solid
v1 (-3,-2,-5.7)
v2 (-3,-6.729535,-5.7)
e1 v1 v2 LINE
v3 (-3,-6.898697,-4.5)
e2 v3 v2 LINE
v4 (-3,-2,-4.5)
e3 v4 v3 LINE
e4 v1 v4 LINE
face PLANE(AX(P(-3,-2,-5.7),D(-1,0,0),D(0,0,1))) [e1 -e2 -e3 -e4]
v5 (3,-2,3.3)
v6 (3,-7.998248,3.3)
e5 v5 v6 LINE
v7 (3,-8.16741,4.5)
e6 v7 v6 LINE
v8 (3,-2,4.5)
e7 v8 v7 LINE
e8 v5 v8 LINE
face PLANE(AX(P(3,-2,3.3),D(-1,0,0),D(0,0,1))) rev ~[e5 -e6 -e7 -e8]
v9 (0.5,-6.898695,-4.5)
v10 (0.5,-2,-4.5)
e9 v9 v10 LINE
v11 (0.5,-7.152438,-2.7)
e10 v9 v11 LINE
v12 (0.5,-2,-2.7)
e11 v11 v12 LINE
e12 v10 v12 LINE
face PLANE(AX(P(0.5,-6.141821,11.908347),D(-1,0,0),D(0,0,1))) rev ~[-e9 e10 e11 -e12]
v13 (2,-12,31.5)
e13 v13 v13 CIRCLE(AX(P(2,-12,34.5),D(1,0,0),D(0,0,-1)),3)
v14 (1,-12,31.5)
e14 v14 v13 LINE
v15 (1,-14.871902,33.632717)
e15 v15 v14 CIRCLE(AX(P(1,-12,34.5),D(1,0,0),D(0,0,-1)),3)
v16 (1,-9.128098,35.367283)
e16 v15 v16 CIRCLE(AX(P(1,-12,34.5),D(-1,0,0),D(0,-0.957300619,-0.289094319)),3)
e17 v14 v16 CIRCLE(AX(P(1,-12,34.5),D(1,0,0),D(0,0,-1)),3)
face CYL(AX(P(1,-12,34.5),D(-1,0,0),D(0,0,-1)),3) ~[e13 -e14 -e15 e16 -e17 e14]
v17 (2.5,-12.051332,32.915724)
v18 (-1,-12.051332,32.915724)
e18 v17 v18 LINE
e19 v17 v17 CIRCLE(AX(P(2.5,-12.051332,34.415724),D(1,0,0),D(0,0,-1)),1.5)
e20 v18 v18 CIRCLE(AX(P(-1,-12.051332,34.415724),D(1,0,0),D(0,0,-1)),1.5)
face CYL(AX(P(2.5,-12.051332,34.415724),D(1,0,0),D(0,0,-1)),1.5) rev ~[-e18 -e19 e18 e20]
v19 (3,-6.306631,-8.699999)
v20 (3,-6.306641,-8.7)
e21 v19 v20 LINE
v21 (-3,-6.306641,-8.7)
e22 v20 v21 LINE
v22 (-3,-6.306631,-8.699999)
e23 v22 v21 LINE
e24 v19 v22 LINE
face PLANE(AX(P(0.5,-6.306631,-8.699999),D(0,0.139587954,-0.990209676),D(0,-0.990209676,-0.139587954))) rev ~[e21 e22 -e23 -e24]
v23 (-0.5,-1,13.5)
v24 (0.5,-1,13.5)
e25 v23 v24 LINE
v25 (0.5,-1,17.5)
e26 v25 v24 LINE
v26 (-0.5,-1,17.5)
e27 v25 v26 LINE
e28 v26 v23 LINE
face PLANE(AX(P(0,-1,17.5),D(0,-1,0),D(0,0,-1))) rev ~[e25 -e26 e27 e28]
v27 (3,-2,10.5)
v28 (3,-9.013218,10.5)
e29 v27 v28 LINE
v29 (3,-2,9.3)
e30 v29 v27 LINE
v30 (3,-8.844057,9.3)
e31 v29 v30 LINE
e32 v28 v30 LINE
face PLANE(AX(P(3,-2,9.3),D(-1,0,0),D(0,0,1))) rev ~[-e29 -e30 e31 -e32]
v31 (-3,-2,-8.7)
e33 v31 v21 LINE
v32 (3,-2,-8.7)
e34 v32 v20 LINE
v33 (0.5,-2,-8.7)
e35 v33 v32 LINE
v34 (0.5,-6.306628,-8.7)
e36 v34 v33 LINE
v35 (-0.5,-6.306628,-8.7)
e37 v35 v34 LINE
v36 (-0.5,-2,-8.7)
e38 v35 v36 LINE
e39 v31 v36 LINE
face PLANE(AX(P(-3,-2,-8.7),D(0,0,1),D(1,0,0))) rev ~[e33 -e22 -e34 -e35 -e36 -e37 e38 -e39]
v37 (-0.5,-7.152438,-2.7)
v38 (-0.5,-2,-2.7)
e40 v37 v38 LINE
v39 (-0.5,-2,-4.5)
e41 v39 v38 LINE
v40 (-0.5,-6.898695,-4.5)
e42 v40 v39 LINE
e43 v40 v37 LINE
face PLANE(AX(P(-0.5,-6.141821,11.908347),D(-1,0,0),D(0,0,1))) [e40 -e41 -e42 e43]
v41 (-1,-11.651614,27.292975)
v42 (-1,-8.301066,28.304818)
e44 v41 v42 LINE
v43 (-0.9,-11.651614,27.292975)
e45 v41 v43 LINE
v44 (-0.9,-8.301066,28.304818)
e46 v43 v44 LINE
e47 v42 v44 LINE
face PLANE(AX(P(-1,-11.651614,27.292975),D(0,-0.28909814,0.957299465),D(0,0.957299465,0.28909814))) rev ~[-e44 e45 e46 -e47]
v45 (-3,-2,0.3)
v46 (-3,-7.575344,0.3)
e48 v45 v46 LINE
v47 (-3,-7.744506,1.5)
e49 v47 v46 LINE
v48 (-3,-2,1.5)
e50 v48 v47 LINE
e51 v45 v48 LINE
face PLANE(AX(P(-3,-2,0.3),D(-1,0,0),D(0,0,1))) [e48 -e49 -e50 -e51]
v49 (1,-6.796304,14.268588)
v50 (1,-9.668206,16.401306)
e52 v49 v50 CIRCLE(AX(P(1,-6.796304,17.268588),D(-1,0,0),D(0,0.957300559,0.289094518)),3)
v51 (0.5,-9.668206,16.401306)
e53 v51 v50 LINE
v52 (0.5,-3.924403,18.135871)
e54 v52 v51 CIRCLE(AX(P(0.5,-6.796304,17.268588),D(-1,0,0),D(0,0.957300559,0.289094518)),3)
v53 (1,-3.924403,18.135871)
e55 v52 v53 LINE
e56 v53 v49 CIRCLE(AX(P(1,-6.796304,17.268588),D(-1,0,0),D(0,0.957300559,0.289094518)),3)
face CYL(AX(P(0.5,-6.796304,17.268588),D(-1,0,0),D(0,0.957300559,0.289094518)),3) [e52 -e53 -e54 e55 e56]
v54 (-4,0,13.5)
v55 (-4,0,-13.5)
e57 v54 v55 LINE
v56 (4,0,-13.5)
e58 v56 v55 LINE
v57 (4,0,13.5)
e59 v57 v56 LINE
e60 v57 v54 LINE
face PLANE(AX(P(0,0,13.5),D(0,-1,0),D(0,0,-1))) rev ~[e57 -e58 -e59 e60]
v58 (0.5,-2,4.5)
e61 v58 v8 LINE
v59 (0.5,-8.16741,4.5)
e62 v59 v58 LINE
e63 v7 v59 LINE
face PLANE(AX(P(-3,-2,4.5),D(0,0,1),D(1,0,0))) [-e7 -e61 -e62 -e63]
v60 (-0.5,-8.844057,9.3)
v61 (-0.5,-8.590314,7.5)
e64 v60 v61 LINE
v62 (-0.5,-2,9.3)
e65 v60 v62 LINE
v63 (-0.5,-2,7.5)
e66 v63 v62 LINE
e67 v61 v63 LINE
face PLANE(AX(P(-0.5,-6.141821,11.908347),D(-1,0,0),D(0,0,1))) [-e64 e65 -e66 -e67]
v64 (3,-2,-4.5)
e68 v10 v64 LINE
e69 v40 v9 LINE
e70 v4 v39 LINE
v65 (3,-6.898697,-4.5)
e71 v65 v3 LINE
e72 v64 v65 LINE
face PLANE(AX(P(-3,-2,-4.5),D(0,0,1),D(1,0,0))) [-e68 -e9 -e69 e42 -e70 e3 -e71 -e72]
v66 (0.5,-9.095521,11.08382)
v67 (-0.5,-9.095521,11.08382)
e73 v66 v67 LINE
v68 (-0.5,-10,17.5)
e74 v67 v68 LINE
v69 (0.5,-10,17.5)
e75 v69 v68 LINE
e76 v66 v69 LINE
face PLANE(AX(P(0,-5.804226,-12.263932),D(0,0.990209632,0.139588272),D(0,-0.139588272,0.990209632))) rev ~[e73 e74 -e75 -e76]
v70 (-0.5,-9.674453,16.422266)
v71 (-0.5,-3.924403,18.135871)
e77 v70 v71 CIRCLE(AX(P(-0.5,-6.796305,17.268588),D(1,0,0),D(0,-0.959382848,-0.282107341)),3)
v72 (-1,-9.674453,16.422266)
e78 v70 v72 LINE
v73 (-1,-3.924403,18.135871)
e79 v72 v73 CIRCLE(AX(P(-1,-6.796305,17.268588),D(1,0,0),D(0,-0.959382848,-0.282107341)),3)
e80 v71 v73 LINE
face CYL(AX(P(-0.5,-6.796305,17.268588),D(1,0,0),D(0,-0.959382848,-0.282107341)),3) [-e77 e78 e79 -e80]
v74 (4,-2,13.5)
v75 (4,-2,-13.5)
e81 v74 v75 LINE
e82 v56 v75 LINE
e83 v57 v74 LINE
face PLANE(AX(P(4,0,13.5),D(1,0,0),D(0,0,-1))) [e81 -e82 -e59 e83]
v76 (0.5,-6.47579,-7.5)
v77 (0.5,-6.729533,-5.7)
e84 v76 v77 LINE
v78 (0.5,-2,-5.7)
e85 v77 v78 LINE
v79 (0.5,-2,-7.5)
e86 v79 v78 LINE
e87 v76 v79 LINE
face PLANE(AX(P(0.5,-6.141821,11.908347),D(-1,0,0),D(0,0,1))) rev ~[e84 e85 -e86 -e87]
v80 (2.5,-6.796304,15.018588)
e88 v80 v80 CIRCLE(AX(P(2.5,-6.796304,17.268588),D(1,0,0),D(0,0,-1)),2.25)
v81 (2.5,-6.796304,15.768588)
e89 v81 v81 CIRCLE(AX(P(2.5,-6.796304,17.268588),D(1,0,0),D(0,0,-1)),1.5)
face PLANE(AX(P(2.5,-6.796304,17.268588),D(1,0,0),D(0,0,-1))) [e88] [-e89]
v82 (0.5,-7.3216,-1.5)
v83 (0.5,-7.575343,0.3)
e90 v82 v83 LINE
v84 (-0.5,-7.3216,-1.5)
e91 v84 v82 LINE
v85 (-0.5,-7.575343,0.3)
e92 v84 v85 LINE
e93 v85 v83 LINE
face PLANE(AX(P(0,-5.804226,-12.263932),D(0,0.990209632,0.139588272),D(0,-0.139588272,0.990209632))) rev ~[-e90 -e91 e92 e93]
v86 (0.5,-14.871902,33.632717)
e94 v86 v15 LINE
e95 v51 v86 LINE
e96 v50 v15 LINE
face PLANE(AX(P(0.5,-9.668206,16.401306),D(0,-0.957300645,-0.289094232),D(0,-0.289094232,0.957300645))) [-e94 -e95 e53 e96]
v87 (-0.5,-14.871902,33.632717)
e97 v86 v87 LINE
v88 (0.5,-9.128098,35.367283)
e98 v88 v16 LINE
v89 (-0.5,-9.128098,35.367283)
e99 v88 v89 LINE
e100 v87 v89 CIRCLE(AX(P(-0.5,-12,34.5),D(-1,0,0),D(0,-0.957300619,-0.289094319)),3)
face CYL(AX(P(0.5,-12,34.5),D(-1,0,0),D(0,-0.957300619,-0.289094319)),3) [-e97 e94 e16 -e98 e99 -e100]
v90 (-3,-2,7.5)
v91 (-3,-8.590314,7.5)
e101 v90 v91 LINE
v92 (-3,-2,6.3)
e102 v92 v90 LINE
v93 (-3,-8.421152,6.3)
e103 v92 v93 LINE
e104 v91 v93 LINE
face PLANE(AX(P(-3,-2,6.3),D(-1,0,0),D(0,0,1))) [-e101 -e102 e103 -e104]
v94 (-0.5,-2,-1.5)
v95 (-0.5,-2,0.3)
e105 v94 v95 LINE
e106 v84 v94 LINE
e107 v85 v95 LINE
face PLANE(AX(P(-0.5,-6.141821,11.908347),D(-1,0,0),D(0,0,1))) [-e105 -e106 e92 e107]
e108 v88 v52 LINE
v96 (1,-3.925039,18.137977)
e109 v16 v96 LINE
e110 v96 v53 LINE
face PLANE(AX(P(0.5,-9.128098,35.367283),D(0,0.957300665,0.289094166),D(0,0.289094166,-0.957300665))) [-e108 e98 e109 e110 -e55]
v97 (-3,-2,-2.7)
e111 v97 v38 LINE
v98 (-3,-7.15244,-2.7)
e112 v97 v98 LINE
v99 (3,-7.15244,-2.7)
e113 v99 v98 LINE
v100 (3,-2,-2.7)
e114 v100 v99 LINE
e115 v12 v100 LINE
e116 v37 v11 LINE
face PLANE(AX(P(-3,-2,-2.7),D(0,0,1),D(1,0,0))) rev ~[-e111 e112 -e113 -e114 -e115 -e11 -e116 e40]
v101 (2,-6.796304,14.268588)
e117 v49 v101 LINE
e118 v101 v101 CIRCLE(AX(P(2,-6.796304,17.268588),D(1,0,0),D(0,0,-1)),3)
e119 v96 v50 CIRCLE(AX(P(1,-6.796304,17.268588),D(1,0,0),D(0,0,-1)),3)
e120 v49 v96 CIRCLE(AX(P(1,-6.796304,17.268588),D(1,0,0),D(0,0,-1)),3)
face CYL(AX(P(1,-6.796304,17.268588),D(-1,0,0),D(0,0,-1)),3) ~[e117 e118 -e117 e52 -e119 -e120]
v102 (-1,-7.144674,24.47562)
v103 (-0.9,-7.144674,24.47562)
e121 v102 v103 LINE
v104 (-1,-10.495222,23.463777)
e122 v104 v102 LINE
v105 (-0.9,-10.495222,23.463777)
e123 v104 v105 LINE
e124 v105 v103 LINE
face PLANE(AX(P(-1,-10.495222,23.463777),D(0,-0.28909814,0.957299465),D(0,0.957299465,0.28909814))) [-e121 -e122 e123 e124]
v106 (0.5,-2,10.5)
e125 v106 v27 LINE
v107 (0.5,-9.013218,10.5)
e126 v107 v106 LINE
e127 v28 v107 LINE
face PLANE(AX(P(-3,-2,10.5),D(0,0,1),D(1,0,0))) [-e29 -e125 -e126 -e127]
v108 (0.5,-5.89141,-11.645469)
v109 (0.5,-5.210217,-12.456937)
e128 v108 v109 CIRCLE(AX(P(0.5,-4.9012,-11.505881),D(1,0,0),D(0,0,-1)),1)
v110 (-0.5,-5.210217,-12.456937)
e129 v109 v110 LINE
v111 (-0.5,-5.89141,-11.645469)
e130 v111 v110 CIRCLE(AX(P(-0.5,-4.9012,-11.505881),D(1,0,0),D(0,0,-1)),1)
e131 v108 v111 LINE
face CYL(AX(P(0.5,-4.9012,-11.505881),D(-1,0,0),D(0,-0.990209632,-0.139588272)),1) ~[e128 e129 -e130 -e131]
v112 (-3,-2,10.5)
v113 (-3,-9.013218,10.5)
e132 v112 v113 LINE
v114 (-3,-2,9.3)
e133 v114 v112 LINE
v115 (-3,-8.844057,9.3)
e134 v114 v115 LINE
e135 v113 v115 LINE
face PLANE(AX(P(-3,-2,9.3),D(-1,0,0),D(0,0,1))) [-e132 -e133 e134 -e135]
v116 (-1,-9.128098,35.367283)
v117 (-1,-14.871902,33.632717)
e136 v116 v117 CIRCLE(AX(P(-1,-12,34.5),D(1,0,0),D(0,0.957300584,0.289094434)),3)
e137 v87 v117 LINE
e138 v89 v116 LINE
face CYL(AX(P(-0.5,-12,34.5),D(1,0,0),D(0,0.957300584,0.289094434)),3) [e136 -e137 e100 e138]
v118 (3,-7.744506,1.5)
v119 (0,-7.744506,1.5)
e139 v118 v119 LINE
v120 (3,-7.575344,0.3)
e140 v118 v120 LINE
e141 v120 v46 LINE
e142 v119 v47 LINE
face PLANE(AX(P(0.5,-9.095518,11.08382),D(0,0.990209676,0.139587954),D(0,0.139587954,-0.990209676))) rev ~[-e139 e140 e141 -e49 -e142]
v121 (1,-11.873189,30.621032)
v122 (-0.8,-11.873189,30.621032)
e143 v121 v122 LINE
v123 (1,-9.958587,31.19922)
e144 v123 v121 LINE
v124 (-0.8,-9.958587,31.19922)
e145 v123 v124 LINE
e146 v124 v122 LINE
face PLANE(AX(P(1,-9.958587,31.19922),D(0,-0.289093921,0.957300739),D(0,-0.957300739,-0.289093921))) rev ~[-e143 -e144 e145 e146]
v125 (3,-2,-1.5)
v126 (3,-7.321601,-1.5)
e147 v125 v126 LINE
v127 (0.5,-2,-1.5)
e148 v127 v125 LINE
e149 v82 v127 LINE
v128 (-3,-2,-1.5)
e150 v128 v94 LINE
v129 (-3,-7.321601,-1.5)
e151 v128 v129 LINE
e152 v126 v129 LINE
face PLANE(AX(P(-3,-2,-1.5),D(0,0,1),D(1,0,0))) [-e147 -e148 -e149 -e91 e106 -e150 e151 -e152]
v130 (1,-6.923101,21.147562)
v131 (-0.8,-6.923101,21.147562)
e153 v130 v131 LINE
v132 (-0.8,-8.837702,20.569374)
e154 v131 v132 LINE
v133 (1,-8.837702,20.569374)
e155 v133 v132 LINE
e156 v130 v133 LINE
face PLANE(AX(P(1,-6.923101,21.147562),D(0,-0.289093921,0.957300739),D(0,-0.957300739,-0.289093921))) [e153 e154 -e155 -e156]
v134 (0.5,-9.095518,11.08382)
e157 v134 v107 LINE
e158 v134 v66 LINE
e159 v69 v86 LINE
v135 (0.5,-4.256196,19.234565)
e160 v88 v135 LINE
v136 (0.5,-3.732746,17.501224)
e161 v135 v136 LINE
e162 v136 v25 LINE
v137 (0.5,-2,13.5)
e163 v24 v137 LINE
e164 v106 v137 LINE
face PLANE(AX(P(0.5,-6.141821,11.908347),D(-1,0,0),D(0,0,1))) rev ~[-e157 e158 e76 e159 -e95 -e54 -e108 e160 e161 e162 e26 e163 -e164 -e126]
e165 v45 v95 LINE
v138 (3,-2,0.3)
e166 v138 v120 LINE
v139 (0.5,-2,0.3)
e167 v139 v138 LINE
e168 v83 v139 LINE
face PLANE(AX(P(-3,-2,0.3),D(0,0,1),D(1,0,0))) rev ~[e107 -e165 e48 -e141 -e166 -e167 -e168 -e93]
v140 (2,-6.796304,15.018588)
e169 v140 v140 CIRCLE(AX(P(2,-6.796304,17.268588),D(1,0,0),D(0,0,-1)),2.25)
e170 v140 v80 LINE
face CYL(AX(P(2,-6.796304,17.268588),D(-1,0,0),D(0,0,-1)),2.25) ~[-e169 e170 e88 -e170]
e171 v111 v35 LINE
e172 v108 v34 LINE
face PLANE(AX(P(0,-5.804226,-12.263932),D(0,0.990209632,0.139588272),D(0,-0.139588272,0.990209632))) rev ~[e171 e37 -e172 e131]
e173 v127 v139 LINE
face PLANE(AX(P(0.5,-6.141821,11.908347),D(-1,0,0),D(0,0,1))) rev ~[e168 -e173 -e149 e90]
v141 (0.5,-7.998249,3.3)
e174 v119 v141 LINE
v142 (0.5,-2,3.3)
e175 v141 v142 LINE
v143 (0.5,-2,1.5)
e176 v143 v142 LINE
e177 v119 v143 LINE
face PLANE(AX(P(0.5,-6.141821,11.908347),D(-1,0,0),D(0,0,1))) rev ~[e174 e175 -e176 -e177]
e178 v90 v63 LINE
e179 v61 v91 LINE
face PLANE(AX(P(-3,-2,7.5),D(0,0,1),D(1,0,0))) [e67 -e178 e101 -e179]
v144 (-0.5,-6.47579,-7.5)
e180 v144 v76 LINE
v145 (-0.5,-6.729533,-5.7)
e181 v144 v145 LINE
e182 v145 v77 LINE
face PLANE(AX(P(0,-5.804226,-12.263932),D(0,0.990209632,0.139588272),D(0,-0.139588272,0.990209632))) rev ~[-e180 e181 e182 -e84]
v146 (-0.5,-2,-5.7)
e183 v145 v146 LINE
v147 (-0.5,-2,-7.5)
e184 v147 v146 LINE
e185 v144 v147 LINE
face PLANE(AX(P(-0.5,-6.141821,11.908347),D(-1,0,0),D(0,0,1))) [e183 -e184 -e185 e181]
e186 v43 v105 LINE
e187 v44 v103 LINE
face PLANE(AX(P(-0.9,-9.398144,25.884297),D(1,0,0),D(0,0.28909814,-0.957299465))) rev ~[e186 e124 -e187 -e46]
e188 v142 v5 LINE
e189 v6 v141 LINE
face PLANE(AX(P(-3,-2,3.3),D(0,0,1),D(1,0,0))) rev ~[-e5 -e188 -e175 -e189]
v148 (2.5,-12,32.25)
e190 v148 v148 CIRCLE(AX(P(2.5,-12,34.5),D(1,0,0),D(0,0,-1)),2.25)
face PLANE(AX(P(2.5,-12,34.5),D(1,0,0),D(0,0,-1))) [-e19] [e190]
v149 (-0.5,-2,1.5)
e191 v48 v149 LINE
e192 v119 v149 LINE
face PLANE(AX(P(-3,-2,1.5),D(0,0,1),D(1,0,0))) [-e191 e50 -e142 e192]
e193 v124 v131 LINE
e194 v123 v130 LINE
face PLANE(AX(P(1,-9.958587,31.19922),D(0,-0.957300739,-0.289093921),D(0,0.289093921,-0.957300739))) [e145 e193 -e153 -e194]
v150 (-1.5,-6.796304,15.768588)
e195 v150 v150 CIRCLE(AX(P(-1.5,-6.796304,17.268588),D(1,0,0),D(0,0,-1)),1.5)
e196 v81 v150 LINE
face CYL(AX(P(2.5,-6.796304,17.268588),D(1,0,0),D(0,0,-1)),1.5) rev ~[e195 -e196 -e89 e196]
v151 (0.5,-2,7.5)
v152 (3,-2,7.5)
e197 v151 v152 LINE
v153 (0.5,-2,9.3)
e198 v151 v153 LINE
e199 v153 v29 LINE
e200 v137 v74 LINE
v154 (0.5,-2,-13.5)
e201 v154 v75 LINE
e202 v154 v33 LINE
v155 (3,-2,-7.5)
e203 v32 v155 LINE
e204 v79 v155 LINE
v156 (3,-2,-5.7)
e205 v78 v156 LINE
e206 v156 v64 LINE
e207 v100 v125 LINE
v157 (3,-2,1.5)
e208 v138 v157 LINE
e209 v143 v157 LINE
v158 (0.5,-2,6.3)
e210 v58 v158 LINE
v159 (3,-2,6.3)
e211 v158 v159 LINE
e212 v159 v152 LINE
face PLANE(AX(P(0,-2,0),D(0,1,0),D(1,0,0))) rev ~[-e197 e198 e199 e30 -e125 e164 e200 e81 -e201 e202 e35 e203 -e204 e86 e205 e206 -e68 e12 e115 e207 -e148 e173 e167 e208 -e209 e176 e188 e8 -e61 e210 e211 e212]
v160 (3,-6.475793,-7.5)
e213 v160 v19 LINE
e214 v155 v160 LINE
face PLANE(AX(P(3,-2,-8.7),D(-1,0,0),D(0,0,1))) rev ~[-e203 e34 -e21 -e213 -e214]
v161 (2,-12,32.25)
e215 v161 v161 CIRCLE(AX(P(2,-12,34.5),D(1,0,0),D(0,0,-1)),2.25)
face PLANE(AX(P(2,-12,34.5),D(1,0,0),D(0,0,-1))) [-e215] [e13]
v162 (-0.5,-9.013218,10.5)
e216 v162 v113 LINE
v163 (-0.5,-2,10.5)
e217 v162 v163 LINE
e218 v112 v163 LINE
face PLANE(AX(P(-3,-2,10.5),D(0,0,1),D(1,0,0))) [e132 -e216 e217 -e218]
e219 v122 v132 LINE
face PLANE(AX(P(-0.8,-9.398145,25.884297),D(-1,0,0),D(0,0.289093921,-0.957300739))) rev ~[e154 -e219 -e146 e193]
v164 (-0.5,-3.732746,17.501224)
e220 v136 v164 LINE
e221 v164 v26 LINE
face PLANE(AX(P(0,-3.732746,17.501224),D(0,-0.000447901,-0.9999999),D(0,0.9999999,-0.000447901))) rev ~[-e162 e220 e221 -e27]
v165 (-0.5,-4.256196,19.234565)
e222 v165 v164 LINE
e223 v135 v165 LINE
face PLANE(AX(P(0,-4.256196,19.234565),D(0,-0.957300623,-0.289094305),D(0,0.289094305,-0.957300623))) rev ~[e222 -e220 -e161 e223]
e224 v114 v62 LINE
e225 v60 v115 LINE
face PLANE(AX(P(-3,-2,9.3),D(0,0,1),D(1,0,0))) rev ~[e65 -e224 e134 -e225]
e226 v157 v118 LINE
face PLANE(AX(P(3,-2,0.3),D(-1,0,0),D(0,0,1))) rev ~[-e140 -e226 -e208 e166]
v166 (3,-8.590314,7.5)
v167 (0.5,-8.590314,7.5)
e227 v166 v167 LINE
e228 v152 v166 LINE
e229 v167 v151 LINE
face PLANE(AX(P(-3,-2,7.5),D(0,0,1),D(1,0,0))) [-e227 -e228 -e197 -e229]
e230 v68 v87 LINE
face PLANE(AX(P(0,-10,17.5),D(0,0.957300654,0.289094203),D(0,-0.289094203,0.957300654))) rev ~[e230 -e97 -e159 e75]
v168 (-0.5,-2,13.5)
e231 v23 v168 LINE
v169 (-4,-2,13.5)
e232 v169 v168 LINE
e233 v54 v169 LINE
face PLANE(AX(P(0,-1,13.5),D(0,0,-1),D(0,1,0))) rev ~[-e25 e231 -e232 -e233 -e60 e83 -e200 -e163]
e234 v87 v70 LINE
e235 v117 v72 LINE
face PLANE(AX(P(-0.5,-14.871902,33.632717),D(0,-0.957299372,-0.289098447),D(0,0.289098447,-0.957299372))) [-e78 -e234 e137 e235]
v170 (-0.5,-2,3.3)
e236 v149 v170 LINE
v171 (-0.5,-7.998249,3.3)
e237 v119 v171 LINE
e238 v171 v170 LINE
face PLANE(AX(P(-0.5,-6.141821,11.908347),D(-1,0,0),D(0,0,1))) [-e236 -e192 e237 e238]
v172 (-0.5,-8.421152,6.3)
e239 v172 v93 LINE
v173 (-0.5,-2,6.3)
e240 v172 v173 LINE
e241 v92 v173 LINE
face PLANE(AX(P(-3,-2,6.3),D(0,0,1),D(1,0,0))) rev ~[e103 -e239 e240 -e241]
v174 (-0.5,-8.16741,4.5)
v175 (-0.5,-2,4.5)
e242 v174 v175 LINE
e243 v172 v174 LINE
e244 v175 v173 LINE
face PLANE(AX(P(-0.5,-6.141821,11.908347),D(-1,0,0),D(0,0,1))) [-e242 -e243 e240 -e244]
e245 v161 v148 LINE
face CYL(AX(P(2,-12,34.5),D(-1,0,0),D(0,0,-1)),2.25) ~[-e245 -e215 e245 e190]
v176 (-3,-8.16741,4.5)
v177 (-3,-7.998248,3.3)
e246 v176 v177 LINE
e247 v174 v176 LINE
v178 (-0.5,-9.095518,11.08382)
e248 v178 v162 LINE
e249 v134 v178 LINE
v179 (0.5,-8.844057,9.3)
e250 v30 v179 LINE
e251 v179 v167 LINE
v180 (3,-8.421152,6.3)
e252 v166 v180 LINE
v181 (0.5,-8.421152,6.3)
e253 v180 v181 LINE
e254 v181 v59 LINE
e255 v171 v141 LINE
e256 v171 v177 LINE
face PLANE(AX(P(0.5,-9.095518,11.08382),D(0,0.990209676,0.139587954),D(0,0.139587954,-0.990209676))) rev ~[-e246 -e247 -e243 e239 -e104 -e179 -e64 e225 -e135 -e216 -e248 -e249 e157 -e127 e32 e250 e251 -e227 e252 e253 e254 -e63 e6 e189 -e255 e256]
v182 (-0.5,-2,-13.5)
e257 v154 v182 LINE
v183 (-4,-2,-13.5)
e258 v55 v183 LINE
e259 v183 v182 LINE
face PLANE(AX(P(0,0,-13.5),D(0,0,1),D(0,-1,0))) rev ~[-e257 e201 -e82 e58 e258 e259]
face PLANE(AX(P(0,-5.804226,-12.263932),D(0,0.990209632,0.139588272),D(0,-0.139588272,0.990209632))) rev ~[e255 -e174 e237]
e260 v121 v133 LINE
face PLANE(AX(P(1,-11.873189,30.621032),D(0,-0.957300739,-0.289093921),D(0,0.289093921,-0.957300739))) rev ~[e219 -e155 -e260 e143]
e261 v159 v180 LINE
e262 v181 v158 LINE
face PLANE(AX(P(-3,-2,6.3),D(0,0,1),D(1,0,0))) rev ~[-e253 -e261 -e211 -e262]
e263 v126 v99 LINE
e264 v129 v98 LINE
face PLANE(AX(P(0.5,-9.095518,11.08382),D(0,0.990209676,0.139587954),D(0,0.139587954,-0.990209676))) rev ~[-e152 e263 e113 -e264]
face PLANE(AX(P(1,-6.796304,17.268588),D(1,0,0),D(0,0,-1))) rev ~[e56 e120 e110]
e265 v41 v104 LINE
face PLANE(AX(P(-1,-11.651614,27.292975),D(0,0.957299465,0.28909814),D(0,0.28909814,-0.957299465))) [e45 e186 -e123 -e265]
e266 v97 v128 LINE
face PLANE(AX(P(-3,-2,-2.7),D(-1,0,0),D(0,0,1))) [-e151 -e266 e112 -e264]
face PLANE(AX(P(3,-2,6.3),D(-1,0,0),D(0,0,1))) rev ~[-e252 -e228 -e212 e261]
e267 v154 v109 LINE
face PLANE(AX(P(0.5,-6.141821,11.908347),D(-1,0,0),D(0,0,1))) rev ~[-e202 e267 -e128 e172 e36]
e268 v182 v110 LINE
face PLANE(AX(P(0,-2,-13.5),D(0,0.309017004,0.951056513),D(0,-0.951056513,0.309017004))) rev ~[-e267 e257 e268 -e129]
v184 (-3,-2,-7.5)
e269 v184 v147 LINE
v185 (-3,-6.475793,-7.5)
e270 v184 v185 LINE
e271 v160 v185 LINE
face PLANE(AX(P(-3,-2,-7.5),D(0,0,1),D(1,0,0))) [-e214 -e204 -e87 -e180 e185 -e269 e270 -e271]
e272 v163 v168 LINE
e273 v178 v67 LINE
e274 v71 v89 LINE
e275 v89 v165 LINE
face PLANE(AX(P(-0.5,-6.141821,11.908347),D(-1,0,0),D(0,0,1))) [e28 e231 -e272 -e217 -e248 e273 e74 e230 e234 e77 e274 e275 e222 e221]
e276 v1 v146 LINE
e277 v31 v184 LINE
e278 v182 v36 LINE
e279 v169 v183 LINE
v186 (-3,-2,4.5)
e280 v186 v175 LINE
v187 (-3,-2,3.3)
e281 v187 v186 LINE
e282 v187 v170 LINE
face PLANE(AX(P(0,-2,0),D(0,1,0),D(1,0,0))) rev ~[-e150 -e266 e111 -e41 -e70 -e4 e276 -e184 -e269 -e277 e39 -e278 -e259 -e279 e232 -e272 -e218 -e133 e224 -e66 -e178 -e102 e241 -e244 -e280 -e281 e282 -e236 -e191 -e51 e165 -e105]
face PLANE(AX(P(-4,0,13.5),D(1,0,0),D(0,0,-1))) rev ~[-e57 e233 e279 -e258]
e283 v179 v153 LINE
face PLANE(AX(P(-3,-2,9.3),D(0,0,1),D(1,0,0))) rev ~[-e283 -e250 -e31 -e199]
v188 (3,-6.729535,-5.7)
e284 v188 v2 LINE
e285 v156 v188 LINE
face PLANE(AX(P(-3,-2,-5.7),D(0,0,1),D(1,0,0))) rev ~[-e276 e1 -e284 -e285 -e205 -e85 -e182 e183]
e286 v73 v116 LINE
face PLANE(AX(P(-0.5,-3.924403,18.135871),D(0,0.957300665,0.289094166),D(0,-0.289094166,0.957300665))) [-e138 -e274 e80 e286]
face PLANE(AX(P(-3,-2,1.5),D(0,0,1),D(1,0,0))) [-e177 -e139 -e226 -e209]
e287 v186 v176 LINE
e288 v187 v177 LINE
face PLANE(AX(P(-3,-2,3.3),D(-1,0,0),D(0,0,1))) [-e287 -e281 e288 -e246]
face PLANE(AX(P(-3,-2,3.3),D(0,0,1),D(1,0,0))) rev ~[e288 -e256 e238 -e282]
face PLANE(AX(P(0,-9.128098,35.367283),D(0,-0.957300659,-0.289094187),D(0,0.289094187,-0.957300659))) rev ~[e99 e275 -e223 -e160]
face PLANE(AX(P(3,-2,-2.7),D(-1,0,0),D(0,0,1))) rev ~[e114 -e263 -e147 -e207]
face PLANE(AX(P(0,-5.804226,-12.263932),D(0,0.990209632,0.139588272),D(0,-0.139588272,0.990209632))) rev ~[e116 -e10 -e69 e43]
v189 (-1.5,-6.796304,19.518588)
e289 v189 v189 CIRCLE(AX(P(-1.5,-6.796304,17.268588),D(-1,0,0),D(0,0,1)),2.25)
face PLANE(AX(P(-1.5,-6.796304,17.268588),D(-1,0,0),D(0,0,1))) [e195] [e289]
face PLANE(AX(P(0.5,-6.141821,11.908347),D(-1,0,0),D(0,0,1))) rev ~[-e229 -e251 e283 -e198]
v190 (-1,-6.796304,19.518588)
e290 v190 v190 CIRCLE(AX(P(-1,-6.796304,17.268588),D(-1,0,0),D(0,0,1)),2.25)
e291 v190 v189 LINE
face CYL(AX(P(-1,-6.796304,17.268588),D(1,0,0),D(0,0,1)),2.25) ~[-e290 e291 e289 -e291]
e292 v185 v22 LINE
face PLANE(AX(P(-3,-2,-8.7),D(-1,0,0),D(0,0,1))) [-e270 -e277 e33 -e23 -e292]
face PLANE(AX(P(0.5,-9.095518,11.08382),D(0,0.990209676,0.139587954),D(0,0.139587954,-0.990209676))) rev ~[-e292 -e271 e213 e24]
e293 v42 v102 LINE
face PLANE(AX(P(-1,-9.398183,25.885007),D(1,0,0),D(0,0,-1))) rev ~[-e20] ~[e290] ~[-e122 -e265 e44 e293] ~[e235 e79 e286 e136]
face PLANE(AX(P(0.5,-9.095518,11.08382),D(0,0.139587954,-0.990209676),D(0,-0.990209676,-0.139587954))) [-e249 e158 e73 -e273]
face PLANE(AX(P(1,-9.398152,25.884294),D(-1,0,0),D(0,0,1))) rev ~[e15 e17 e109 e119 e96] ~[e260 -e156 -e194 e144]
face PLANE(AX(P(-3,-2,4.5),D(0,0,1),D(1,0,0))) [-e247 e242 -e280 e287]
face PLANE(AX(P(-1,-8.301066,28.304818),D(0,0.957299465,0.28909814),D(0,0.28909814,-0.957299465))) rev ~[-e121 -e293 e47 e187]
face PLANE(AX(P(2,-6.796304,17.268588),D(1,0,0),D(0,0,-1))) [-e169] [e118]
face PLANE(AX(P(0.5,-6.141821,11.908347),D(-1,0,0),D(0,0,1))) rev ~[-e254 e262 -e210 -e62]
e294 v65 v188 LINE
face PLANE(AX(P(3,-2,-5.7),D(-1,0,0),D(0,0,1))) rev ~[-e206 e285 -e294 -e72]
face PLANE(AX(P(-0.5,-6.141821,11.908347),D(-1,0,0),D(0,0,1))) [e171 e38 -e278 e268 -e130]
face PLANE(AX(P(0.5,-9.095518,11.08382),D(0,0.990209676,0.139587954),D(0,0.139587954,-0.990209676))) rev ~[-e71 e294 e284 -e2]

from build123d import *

# Parameters (mm, degrees)
SKETCH1_W           = 8
SKETCH1_H           = 27
BOSS_EXTRUDE1_DEPTH = 2
BOSS_EXTRUDE2_DEPTH = 0.5
BOSS_EXTRUDE3_DEPTH = 0.5
BOSS_EXTRUDE4_DEPTH = 0.5
SKETCH7_R           = 2.25
BOSS_EXTRUDE5_DEPTH = 0.5
SKETCH8_R           = 3
BOSS_EXTRUDE6_DEPTH = 1
SKETCH9_R           = 2.25
BOSS_EXTRUDE7_DEPTH = 0.5
SKETCH10_R          = 1.5
CUT_EXTRUDE1_DEPTH  = 7.5
SKETCH14_W          = 10.5
SKETCH14_H          = 2
CUT_EXTRUDE2_DEPTH  = 1.8
FILLET1_R           = 1
SKETCH15_W          = 4
SKETCH15_H          = 3.5
CUT_EXTRUDE5_DEPTH  = 0.1
SKETCH19_W          = 6
SKETCH19_H          = 1.2
BOSS_EXTRUDE8_DEPTH = 7.1
LPATTERN1_COUNT     = 7
LPATTERN1_PITCH     = 3
SKETCH20_W          = 19.979424
SKETCH20_H          = 3.421259
CUT_EXTRUDE6_DEPTH  = 3.55


with BuildPart() as part:
    # Sketch1 → Boss-Extrude1 (new body)
    with BuildSketch(Plane(origin=(0, 0, 0), x_dir=(1, 0, 0), z_dir=(0, 1, 0))):
        Rectangle(SKETCH1_W, SKETCH1_H)
    extrude(amount=-BOSS_EXTRUDE1_DEPTH)

    # Sketch4 → Boss-Extrude2 (add, symmetric)
    with BuildSketch(Plane(origin=(0, 0, 0), x_dir=(0, 0, -1), z_dir=(1, 0, 0))):
        with BuildLine():
            Line((13.5, 0), (13.5, -2))
            Line((13.5, -2), (12.263932, -5.804226))
            Line((12.263932, -5.804226), (-17.5, -10))
            Line((-17.5, -10), (-33.632717, -14.871902))
            ThreePointArc((-33.632717, -14.871902), (-37.371902, -12.867283), (-35.367283, -9.128098))
            Line((-35.367283, -9.128098), (-19.234565, -4.256196))
            Line((-19.234565, -4.256196), (-17.501224, -3.732746))
            Line((-17.501224, -3.732746), (-17.5, -1))
            Line((-17.5, -1), (-13.5, -1))
            Line((-13.5, -1), (-13.5, 0))
            Line((-13.5, 0), (13.5, 0))
        make_face()
    extrude(amount=BOSS_EXTRUDE2_DEPTH, both=True)

    # Sketch5 → Boss-Extrude3 (add)
    with BuildSketch(Plane.ZY.offset(0.5)):
        with BuildLine():
            Line((33.632717, -14.871902), (16.422266, -9.674453))
            ThreePointArc((16.422266, -9.674453), (14.393544, -5.939496), (18.135871, -3.924403))
            Line((18.135871, -3.924403), (35.367283, -9.128098))
            ThreePointArc((35.367283, -9.128098), (37.371898, -12.867295), (33.632717, -14.871902))
        make_face()
    extrude(amount=BOSS_EXTRUDE3_DEPTH)

    # Sketch6 → Boss-Extrude4 (add)
    with BuildSketch(Plane(origin=(0.5, 0, 0), x_dir=(0, 0, -1), z_dir=(1, 0, 0))):
        with BuildLine():
            Line((-35.367283, -9.128098), (-18.135871, -3.924403))
            ThreePointArc((-18.135871, -3.924403), (-14.396686, -5.929022), (-16.401306, -9.668206))
            Line((-16.401306, -9.668206), (-33.632717, -14.871902))
            ThreePointArc((-33.632717, -14.871902), (-37.371902, -12.867283), (-35.367283, -9.128098))
        make_face()
    extrude(amount=BOSS_EXTRUDE4_DEPTH)

    # Sketch7 → Boss-Extrude5 (add)
    with BuildSketch(Plane.ZY.offset(1)):
        with Locations((17.268588, -6.796304)):
            Circle(SKETCH7_R)
    extrude(amount=BOSS_EXTRUDE5_DEPTH)

    # Sketch8 → Boss-Extrude6 (add)
    with BuildSketch(Plane(origin=(1, 0, 0), x_dir=(0, 0, -1), z_dir=(1, 0, 0))):
        with Locations((-34.5, -12)):
            Circle(SKETCH8_R)
        with Locations((-17.268588, -6.796304)):
            Circle(SKETCH8_R)
    extrude(amount=BOSS_EXTRUDE6_DEPTH)

    # Sketch9 → Boss-Extrude7 (add)
    with BuildSketch(Plane(origin=(2, 0, 0), x_dir=(0, 0, -1), z_dir=(1, 0, 0))):
        with Locations((-34.5, -12)):
            Circle(SKETCH9_R)
        with Locations((-17.268588, -6.796304)):
            Circle(SKETCH9_R)
    extrude(amount=BOSS_EXTRUDE7_DEPTH)

    # Sketch10 → Cut-Extrude1 (cut, through all)
    with BuildSketch(Plane(origin=(2.5, 0, 0), x_dir=(0, 0, -1), z_dir=(1, 0, 0))):
        with Locations((-17.268588, -6.796304)):
            Circle(SKETCH10_R)
        with Locations((-34.415724, -12.051332)):
            Circle(SKETCH10_R)
    extrude(amount=-CUT_EXTRUDE1_DEPTH, mode=Mode.SUBTRACT)

    # Sketch14 → Cut-Extrude2 (cut)
    with BuildSketch(Plane(origin=(1, 0, 0), x_dir=(0, 0.289094, -0.957301), z_dir=(-1, 0, 0))):
        with Locations((-27.496003, 1.513858)):
            Rectangle(SKETCH14_W, SKETCH14_H)
    extrude(amount=CUT_EXTRUDE2_DEPTH, mode=Mode.SUBTRACT)

    # Fillet1
    fillet1_edges = [part.edges().sort_by_distance(p)[0] for p in [
        (0, -5.804226, -12.263932),
    ]]
    fillet(fillet1_edges, radius=FILLET1_R)

    # Sketch15 → Cut-Extrude5 (cut)
    with BuildSketch(Plane(origin=(-1, 0, 0), x_dir=(0, 0.289098, -0.957299), z_dir=(1, 0, 0))):
        with Locations((-27.49601, -1.513736)):
            Rectangle(SKETCH15_W, SKETCH15_H)
    extrude(amount=CUT_EXTRUDE5_DEPTH, mode=Mode.SUBTRACT)

    # Sketch19 → Boss-Extrude8 (add)
    with BuildSketch(Plane.XZ.offset(2)):
        with Locations((0, 9.9)):
            Rectangle(SKETCH19_W, SKETCH19_H)
    boss_extrude8 = extrude(amount=BOSS_EXTRUDE8_DEPTH)

    # LPattern1: Boss-Extrude8 ×7
    with Locations(*[(0, 0, -i * LPATTERN1_PITCH) for i in range(1, LPATTERN1_COUNT)]):
        add(boss_extrude8)

    # Sketch20 → Cut-Extrude6 (cut, symmetric)
    with BuildSketch(Plane(origin=(0.5, 0, 0), x_dir=(0, 0.139588, -0.99021), z_dir=(-1, 0, 0))):
        with Locations((-2.255219, 9.169932)):
            Rectangle(SKETCH20_W, SKETCH20_H)
    extrude(amount=CUT_EXTRUDE6_DEPTH, both=True, mode=Mode.SUBTRACT)


solid = part.part
